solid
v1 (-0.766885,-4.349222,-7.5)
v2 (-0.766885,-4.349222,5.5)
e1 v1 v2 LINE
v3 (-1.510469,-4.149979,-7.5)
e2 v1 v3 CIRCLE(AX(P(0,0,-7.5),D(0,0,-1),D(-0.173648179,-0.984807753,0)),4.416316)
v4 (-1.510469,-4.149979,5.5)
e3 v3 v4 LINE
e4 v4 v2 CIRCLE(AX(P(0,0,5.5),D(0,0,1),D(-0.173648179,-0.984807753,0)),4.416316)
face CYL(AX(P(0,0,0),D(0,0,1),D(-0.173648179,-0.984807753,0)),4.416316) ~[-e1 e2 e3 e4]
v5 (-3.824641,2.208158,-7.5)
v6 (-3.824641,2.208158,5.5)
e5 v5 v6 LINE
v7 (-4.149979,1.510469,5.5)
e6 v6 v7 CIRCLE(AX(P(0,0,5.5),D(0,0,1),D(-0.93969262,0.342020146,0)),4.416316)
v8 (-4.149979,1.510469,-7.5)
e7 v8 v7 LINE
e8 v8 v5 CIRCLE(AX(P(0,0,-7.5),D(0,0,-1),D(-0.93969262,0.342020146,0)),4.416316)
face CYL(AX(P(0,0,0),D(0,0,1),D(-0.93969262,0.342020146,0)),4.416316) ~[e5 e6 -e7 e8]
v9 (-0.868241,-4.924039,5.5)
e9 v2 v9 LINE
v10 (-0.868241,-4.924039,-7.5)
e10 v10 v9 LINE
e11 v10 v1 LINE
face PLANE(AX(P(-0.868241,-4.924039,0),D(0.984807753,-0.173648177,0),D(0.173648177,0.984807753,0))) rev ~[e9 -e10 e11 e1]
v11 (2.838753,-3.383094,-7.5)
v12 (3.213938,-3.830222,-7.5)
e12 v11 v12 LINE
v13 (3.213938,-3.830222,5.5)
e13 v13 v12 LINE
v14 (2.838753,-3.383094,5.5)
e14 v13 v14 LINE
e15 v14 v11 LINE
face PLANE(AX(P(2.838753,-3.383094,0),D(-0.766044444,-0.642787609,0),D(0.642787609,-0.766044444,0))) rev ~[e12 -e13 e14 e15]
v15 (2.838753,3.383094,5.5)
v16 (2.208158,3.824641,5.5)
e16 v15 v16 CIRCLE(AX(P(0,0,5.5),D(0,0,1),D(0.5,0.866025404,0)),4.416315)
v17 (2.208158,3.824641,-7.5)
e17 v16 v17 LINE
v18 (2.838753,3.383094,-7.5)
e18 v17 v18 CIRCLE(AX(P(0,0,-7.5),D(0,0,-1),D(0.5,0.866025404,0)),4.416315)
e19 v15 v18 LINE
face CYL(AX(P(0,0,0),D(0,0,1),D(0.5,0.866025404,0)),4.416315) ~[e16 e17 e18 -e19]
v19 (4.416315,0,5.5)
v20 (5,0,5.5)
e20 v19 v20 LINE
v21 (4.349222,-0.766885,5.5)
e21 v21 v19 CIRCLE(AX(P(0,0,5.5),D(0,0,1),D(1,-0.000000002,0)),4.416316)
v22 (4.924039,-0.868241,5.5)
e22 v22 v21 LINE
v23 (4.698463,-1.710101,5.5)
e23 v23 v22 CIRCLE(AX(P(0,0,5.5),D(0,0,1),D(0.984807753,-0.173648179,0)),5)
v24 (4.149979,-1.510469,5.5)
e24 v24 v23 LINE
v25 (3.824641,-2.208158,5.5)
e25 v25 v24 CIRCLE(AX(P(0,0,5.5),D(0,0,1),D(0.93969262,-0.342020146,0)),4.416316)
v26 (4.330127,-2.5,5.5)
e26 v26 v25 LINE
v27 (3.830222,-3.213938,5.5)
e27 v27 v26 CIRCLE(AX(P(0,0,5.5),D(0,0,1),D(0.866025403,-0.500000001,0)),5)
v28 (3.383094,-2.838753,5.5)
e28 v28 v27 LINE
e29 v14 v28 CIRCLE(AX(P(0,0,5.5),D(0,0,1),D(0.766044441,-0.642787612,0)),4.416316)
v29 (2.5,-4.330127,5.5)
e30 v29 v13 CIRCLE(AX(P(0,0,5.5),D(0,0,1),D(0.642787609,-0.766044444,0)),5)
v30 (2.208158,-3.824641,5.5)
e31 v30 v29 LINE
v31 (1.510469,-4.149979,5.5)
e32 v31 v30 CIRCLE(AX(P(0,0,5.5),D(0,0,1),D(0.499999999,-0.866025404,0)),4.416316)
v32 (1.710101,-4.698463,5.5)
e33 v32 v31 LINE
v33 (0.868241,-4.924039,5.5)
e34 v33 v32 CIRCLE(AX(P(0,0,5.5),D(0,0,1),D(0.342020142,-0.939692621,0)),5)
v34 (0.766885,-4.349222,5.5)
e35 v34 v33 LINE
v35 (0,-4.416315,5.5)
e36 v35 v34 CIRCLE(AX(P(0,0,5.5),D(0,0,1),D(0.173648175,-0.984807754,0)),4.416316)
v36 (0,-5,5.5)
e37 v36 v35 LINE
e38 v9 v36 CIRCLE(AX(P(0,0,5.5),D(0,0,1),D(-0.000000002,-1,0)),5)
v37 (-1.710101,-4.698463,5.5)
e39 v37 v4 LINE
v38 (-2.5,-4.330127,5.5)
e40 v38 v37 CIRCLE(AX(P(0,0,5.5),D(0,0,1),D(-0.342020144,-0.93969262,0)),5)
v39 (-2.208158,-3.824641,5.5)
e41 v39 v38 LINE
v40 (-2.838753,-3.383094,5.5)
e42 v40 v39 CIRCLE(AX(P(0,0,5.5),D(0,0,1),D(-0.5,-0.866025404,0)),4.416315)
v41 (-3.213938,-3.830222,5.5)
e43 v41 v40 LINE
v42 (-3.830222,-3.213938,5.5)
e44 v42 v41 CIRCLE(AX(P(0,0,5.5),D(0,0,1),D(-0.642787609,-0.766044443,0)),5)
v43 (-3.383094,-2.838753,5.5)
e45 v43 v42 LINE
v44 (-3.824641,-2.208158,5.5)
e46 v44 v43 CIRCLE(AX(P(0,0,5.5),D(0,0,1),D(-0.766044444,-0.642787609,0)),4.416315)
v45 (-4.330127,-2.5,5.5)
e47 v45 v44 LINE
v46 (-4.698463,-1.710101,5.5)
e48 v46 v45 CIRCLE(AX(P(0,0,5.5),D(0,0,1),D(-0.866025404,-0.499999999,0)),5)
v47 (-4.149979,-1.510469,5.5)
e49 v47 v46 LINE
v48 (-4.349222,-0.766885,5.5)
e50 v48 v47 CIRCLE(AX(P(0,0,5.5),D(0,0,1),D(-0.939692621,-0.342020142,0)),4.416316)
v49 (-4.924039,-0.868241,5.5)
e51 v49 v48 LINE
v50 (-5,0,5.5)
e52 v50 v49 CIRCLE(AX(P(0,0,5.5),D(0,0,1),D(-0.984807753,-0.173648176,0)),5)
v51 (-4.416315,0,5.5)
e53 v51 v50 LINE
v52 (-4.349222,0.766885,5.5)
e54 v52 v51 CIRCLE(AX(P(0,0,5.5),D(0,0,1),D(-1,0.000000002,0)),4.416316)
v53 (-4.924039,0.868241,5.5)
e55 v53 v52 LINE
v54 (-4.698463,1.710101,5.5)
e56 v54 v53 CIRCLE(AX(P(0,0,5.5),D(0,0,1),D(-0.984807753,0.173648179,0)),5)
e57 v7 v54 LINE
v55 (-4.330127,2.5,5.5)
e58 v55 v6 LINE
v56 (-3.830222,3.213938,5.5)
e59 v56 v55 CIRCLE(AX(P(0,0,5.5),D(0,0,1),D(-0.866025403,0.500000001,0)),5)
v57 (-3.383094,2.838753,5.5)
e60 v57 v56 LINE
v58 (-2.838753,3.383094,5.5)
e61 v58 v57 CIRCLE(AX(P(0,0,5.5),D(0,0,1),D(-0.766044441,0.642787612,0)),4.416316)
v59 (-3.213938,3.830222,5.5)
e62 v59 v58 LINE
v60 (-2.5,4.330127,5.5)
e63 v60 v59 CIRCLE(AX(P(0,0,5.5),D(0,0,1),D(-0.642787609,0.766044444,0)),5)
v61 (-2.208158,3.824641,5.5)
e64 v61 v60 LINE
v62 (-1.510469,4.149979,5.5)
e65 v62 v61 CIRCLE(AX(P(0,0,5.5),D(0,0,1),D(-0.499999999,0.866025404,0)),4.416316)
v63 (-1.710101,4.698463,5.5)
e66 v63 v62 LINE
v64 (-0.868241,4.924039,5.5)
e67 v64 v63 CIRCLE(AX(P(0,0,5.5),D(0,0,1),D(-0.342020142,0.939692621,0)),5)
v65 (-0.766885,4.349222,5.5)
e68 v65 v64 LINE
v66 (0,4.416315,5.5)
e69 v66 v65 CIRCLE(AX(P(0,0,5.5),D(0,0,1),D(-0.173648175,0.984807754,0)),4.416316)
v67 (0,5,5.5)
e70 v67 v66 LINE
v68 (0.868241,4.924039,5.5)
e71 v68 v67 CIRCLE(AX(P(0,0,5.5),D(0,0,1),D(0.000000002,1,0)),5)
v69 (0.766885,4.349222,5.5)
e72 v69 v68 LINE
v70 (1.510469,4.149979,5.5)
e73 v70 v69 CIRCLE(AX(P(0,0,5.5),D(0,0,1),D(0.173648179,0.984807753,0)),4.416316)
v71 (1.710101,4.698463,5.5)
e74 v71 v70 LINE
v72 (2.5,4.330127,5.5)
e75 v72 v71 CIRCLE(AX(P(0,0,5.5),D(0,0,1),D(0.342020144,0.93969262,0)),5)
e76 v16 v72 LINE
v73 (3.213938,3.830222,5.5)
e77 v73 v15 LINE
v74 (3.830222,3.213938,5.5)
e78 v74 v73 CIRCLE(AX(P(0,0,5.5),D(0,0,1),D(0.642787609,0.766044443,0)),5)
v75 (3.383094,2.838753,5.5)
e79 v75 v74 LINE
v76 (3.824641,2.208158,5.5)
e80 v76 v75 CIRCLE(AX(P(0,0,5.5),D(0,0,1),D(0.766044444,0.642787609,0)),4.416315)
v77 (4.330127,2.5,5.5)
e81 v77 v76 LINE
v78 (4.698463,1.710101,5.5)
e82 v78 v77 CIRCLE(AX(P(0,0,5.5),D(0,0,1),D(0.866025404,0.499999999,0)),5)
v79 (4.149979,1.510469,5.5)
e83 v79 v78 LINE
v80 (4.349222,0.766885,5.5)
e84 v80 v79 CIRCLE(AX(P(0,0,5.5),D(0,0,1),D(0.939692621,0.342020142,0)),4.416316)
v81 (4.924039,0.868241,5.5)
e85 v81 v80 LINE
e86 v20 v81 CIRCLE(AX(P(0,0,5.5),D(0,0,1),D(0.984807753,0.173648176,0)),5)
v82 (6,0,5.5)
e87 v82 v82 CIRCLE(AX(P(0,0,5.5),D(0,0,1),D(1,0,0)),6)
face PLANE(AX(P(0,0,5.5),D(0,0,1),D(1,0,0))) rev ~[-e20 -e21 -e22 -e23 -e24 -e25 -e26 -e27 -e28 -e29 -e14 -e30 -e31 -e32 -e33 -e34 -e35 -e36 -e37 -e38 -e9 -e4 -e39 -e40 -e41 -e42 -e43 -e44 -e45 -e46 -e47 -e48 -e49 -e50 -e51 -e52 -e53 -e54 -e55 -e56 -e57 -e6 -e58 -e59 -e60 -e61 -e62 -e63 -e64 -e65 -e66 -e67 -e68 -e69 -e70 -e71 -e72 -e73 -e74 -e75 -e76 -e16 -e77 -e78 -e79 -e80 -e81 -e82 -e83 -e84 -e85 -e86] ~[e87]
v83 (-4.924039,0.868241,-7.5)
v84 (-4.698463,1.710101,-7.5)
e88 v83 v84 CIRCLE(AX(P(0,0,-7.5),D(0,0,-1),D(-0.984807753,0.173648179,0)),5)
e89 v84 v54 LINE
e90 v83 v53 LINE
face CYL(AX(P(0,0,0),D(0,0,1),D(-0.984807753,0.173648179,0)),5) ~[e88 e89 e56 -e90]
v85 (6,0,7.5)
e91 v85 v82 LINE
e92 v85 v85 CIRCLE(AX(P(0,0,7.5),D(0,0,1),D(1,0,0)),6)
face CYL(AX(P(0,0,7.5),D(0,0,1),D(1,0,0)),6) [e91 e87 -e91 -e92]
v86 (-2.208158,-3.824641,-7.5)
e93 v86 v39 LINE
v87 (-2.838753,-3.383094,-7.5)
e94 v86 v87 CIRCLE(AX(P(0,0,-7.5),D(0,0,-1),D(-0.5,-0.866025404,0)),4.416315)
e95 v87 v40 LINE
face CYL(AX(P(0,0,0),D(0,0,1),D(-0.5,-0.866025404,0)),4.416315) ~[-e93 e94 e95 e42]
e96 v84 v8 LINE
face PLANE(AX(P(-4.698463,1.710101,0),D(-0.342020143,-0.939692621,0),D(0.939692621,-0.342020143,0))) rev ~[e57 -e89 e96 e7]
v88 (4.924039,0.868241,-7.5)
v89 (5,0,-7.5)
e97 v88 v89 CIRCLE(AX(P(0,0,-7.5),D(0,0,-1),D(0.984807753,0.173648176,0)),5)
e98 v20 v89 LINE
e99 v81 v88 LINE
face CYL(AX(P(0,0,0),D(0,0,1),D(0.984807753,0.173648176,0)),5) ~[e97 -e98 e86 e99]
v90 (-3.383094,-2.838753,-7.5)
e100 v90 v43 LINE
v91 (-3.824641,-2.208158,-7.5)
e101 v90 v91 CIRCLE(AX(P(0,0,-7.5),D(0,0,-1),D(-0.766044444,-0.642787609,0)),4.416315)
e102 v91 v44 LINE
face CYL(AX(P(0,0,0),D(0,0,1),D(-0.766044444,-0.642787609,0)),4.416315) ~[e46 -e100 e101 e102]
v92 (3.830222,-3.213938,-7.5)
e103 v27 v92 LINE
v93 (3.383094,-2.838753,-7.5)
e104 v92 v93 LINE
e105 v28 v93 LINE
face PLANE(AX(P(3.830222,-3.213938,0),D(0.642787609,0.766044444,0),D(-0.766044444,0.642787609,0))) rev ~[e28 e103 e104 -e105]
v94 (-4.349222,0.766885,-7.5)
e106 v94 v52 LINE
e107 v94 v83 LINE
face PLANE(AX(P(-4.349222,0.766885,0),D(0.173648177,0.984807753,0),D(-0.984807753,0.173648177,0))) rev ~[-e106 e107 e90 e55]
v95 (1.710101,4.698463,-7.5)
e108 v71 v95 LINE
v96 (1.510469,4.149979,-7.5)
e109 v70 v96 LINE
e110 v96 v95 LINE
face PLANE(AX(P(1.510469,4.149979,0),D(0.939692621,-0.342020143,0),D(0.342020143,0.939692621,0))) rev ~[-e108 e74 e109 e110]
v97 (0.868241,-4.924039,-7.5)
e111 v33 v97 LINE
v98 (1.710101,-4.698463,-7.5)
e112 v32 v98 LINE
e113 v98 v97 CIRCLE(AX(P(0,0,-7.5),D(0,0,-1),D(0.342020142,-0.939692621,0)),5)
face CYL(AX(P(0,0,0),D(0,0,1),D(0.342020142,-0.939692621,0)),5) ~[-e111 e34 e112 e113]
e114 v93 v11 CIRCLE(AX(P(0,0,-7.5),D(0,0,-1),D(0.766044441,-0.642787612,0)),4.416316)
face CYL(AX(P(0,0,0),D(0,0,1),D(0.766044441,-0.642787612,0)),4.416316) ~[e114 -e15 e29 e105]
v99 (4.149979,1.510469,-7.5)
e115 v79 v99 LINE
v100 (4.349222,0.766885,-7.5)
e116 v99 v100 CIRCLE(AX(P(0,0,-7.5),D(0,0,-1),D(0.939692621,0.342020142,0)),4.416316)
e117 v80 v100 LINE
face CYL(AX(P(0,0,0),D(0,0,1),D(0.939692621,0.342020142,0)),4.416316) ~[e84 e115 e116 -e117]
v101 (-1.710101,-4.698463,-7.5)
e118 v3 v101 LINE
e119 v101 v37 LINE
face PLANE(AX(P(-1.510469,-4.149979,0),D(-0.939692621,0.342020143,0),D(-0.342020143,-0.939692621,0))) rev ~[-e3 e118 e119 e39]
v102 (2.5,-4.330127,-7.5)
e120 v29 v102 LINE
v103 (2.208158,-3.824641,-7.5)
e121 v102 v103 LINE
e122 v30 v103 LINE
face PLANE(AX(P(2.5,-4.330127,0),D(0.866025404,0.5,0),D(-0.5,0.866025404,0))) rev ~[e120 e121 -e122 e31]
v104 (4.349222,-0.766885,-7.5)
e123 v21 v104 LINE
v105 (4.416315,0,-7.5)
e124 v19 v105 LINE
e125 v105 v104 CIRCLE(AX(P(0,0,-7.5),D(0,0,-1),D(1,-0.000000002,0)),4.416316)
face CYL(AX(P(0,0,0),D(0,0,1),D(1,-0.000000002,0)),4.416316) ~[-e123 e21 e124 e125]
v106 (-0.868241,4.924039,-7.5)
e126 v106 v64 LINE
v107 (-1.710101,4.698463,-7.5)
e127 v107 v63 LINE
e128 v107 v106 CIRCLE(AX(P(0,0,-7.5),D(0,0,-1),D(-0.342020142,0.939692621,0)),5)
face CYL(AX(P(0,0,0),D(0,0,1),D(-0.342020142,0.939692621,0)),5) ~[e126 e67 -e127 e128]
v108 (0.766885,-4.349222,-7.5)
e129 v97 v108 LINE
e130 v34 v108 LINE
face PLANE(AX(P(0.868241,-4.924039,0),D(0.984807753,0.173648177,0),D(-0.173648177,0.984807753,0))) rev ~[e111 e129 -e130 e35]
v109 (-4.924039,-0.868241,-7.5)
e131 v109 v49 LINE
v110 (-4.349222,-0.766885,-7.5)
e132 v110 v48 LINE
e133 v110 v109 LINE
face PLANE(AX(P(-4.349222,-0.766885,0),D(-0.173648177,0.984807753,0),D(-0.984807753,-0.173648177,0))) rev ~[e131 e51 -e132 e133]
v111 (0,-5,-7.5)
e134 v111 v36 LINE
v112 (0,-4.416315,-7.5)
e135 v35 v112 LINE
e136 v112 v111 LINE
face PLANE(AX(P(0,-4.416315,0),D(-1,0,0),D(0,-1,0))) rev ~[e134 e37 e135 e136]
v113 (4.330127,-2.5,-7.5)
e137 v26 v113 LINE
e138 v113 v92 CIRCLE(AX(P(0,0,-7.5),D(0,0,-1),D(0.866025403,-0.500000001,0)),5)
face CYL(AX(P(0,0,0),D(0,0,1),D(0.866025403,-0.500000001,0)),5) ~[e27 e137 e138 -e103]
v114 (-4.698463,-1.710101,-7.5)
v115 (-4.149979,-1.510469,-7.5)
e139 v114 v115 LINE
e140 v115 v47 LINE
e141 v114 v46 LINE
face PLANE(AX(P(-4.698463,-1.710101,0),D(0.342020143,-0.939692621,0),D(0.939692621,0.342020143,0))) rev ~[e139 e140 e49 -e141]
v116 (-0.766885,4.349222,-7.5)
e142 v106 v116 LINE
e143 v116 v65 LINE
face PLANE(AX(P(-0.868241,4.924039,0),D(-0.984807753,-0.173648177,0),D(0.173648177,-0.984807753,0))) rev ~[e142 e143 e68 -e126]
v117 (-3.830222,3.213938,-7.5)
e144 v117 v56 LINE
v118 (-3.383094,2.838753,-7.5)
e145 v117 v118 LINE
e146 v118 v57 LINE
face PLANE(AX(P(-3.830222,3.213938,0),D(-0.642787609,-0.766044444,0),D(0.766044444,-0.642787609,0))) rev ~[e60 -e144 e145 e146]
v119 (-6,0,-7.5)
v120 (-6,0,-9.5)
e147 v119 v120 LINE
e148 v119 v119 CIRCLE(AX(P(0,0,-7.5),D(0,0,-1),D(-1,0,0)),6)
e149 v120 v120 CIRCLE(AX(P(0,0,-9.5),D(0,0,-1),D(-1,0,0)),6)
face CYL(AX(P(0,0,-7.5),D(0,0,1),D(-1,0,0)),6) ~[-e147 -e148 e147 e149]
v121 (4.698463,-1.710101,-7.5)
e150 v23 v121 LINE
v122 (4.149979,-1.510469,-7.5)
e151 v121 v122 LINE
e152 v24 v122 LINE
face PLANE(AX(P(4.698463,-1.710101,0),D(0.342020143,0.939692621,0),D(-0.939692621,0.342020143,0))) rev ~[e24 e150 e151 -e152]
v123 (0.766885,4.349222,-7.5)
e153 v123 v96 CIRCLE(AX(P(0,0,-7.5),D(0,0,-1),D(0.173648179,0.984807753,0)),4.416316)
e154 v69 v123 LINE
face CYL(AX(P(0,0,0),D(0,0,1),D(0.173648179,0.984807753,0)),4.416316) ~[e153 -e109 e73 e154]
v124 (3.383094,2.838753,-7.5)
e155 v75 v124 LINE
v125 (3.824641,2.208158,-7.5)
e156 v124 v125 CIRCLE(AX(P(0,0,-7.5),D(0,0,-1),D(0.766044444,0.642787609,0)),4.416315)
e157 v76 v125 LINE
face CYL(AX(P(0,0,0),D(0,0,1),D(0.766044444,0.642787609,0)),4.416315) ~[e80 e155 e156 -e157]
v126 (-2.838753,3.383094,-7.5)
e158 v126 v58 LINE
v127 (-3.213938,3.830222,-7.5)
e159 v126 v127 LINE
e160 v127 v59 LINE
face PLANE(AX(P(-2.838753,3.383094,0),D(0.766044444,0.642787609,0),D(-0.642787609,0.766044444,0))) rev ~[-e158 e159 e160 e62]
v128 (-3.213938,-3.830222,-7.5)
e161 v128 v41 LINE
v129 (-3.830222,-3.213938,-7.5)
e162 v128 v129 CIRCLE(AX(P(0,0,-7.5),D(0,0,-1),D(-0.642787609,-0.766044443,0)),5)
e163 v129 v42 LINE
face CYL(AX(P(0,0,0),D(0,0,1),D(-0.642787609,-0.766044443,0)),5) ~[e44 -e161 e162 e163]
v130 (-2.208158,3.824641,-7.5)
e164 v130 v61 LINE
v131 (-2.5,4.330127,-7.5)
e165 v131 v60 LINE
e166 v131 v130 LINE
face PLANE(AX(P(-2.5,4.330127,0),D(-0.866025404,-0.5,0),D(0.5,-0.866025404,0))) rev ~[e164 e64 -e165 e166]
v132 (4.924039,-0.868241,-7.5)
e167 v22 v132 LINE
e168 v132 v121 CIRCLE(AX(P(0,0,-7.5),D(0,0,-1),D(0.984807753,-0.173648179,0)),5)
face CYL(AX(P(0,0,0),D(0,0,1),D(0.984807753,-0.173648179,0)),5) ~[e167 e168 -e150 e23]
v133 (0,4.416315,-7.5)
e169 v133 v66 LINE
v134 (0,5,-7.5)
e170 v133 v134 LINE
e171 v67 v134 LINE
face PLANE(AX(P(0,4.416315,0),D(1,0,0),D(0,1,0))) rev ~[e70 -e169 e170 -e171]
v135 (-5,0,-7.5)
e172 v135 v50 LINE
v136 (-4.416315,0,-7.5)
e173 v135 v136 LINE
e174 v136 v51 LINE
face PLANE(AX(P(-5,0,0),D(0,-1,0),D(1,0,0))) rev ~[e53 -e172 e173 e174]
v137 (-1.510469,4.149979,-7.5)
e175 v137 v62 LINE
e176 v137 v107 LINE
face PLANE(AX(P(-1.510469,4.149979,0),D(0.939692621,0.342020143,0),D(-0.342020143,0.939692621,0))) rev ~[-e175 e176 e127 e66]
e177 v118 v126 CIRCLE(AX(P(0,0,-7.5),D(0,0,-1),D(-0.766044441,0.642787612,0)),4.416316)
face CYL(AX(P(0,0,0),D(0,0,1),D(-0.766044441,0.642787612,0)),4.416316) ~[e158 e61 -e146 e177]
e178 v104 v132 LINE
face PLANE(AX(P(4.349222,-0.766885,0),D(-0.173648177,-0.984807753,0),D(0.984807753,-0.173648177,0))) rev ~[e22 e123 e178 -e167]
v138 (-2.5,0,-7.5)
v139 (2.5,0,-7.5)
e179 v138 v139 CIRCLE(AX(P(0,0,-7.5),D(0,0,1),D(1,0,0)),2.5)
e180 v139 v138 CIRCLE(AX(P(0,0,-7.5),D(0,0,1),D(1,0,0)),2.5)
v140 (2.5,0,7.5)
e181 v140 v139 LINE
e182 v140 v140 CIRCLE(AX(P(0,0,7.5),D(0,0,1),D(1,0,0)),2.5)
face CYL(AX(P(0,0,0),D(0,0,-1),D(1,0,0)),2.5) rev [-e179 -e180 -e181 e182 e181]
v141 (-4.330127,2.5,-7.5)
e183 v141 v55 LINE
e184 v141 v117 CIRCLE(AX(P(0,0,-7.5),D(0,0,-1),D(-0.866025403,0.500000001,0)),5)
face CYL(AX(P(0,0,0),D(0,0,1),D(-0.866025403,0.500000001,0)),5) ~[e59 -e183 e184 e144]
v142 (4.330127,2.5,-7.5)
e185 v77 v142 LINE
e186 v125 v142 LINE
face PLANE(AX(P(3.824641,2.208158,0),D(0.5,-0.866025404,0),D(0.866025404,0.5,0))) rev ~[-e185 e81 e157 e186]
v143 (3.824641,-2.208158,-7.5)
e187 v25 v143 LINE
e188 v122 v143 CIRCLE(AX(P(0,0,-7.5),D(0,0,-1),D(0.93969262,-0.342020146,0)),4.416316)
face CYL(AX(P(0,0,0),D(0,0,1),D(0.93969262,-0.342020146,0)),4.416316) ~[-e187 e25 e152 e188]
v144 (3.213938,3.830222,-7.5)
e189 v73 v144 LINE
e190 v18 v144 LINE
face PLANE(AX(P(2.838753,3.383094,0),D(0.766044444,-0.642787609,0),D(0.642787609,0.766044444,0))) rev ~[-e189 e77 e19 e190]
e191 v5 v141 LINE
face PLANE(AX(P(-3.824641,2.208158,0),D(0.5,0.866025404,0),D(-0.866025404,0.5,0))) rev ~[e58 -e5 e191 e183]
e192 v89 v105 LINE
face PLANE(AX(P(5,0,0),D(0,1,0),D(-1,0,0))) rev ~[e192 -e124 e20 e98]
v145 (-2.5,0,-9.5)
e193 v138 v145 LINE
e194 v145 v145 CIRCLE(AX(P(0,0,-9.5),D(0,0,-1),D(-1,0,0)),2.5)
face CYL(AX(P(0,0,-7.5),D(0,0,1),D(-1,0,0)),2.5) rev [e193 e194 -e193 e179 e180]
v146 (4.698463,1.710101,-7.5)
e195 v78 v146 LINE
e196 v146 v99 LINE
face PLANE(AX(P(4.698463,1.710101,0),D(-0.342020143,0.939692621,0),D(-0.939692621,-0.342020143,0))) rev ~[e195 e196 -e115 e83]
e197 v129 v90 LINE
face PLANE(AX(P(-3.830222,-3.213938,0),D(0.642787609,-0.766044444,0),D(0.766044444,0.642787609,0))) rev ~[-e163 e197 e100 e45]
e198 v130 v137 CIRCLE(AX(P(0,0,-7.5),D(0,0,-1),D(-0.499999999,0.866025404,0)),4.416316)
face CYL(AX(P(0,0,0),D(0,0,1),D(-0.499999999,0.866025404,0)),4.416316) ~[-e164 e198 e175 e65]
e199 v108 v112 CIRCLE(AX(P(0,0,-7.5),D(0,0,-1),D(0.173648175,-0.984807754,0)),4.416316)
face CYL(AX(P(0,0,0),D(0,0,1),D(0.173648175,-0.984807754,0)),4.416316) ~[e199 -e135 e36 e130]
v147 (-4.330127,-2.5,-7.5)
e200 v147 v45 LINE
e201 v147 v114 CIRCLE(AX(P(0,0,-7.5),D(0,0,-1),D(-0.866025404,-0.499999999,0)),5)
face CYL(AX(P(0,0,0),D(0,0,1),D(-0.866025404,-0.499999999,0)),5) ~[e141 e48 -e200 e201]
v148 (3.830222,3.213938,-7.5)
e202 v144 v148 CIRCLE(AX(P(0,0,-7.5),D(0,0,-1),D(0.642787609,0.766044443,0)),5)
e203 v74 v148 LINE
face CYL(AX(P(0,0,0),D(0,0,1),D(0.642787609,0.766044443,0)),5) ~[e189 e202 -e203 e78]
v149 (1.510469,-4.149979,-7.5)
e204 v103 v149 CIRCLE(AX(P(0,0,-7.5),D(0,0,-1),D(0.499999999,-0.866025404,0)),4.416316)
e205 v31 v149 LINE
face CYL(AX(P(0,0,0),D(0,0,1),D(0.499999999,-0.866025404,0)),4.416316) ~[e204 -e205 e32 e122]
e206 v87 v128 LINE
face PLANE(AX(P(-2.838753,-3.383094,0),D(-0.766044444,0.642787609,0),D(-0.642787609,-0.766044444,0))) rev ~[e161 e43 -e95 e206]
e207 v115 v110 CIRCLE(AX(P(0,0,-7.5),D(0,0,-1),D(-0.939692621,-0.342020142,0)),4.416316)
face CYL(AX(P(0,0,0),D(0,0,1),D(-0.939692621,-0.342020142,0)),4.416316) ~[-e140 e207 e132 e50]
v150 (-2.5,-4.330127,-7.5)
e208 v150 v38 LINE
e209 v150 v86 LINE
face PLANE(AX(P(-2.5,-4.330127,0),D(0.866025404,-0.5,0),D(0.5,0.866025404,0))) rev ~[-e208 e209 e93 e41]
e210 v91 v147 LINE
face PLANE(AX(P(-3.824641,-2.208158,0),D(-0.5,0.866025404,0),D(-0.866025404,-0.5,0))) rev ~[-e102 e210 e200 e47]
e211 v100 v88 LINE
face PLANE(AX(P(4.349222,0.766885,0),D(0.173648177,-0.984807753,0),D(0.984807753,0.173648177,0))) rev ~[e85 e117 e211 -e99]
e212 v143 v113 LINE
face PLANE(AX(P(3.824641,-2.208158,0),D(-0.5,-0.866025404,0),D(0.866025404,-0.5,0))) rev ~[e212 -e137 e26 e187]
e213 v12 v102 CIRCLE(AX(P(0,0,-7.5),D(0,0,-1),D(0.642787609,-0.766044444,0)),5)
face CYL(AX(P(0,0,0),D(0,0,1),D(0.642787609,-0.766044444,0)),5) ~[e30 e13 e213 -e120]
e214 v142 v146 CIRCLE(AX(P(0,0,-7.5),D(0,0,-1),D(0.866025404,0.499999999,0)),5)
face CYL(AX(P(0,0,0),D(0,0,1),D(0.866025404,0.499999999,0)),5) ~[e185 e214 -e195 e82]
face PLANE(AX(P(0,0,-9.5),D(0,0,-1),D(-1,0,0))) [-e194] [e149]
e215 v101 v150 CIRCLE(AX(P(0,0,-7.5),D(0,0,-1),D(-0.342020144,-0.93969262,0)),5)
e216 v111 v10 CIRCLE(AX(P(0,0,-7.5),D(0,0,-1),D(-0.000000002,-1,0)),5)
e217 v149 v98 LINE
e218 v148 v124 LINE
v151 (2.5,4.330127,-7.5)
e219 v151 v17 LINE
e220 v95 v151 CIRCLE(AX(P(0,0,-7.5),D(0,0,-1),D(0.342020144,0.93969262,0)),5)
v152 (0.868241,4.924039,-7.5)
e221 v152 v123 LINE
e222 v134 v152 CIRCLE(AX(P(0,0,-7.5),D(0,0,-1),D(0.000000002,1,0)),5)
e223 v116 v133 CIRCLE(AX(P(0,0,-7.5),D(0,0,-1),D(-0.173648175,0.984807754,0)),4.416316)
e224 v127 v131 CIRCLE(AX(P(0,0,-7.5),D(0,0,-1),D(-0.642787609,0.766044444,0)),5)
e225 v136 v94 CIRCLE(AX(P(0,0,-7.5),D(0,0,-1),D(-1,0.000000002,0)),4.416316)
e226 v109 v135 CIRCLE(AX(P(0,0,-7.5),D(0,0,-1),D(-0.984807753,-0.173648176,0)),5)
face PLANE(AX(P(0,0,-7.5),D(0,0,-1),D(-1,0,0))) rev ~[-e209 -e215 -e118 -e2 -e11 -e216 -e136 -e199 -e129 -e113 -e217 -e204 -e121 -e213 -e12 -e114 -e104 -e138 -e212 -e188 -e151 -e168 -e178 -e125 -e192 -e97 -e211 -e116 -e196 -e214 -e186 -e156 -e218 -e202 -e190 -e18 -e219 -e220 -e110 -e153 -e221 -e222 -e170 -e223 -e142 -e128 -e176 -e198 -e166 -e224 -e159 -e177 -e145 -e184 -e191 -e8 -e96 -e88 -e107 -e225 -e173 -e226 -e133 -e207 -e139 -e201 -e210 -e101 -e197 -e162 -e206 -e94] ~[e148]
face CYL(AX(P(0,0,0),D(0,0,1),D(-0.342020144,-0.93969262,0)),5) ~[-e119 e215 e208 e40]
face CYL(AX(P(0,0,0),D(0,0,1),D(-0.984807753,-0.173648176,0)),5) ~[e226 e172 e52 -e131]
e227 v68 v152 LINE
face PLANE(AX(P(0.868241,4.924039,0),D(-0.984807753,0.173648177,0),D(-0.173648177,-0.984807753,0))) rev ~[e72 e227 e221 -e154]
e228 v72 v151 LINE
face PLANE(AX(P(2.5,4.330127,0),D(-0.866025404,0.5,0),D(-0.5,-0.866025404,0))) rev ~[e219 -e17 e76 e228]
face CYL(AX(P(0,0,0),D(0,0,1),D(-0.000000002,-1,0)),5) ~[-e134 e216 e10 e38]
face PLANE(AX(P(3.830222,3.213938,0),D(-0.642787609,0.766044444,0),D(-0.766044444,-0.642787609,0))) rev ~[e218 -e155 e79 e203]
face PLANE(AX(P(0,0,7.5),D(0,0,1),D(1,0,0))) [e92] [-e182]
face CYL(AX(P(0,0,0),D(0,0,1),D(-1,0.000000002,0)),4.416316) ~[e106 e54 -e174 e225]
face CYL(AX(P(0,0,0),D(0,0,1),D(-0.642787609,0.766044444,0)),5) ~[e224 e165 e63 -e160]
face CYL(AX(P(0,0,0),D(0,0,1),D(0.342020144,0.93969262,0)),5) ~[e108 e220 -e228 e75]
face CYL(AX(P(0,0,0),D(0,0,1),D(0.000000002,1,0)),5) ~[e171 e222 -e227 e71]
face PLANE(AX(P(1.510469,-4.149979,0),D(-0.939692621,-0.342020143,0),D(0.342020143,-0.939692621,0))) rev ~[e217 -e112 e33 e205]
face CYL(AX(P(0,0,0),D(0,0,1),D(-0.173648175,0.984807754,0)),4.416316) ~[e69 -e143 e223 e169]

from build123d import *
from build123d.topology import SkipClean

# Parameters (mm, degrees)
SALIENTE_EXTRUIR1_DEPTH      = 7.5
SALIENTE_EXTRUIR1_DEPTH_BACK = 7.5
CROQUIS1_R                   = 2.5
SALIENTE_EXTRUIR2_START      = -2
CROQUIS2_R                   = 6
CROQUIS2_R_2                 = 2.5
SALIENTE_EXTRUIR2_DEPTH      = 2
SALIENTE_EXTRUIR3_START      = 2
CROQUIS3_R                   = 6
CROQUIS3_R_2                 = 2.5
SALIENTE_EXTRUIR3_DEPTH      = 2


with BuildPart() as part:
    # Croquis1 → Saliente-Extruir1 (new, two sides: drawn at the far end of the back side and taken through both)
    with BuildSketch(Plane.XY.offset(-SALIENTE_EXTRUIR1_DEPTH_BACK)):
        with BuildLine():
            Line((0, 4.41631546), (0, 5))
            ThreePointArc((0, 5), (0.435778714, 4.98097349), (0.868240888, 4.924038765))
            Line((0.868240888, 4.924038765), (0.766885132, 4.349221705))
            ThreePointArc((0.766885132, 4.349221705), (1.14302655, 4.26583316), (1.510468847, 4.149979049))
            Line((1.510468847, 4.149979049), (1.710100717, 4.698463104))
            ThreePointArc((1.710100717, 4.698463104), (2.113091309, 4.531538935), (2.5, 4.330127019))
            Line((2.5, 4.330127019), (2.20815773, 3.824641379))
            ThreePointArc((2.20815773, 3.824641379), (2.533094483, 3.617633837), (2.838752858, 3.383093917))
            Line((2.838752858, 3.383093917), (3.213938048, 3.830222216))
            ThreePointArc((3.213938048, 3.830222216), (3.535533906, 3.535533906), (3.830222216, 3.213938048))
            Line((3.830222216, 3.213938048), (3.383093917, 2.838752858))
            ThreePointArc((3.383093917, 2.838752858), (3.617633837, 2.533094483), (3.824641379, 2.20815773))
            Line((3.824641379, 2.20815773), (4.330127019, 2.5))
            ThreePointArc((4.330127019, 2.5), (4.531538935, 2.113091309), (4.698463104, 1.710100717))
            Line((4.698463104, 1.710100717), (4.149979049, 1.510468847))
            ThreePointArc((4.149979049, 1.510468847), (4.26583316, 1.14302655), (4.349221705, 0.766885132))
            Line((4.349221705, 0.766885132), (4.924038765, 0.868240888))
            ThreePointArc((4.924038765, 0.868240888), (4.98097349, 0.435778714), (5, 0))
            Line((5, 0), (4.41631546, 0))
            ThreePointArc((4.41631546, 0), (4.399510046, -0.384907254), (4.349221705, -0.766885132))
            Line((4.349221705, -0.766885132), (4.924038765, -0.868240888))
            ThreePointArc((4.924038765, -0.868240888), (4.829629131, -1.294095226), (4.698463104, -1.710100717))
            Line((4.698463104, -1.710100717), (4.149979049, -1.510468847))
            ThreePointArc((4.149979049, -1.510468847), (4.002541091, -1.866415563), (3.824641379, -2.20815773))
            Line((3.824641379, -2.20815773), (4.330127019, -2.5))
            ThreePointArc((4.330127019, -2.5), (4.095760221, -2.867882182), (3.830222216, -3.213938048))
            Line((3.830222216, -3.213938048), (3.383093917, -2.838752858))
            ThreePointArc((3.383093917, -2.838752858), (3.122806609, -3.122806609), (2.838752858, -3.383093917))
            Line((2.838752858, -3.383093917), (3.213938048, -3.830222216))
            ThreePointArc((3.213938048, -3.830222216), (2.867882182, -4.095760221), (2.5, -4.330127019))
            Line((2.5, -4.330127019), (2.20815773, -3.824641379))
            ThreePointArc((2.20815773, -3.824641379), (1.866415563, -4.002541091), (1.510468847, -4.149979049))
            Line((1.510468847, -4.149979049), (1.710100717, -4.698463104))
            ThreePointArc((1.710100717, -4.698463104), (1.294095226, -4.829629131), (0.868240888, -4.924038765))
            Line((0.868240888, -4.924038765), (0.766885132, -4.349221705))
            ThreePointArc((0.766885132, -4.349221705), (0.384907254, -4.399510046), (0, -4.41631546))
            Line((0, -4.41631546), (0, -5))
            ThreePointArc((0, -5), (-0.435778714, -4.98097349), (-0.868240888, -4.924038765))
            Line((-0.868240888, -4.924038765), (-0.766885132, -4.349221705))
            ThreePointArc((-0.766885132, -4.349221705), (-1.14302655, -4.26583316), (-1.510468847, -4.149979049))
            Line((-1.510468847, -4.149979049), (-1.710100717, -4.698463104))
            ThreePointArc((-1.710100717, -4.698463104), (-2.113091309, -4.531538935), (-2.5, -4.330127019))
            Line((-2.5, -4.330127019), (-2.20815773, -3.824641379))
            ThreePointArc((-2.20815773, -3.824641379), (-2.533094483, -3.617633837), (-2.838752858, -3.383093917))
            Line((-2.838752858, -3.383093917), (-3.213938048, -3.830222216))
            ThreePointArc((-3.213938048, -3.830222216), (-3.535533906, -3.535533906), (-3.830222216, -3.213938048))
            Line((-3.830222216, -3.213938048), (-3.383093917, -2.838752858))
            ThreePointArc((-3.383093917, -2.838752858), (-3.617633837, -2.533094483), (-3.824641379, -2.20815773))
            Line((-3.824641379, -2.20815773), (-4.330127019, -2.5))
            ThreePointArc((-4.330127019, -2.5), (-4.531538935, -2.113091309), (-4.698463104, -1.710100717))
            Line((-4.698463104, -1.710100717), (-4.149979049, -1.510468847))
            ThreePointArc((-4.149979049, -1.510468847), (-4.26583316, -1.14302655), (-4.349221705, -0.766885132))
            Line((-4.349221705, -0.766885132), (-4.924038765, -0.868240888))
            ThreePointArc((-4.924038765, -0.868240888), (-4.98097349, -0.435778714), (-5, 0))
            Line((-5, 0), (-4.41631546, 0))
            ThreePointArc((-4.41631546, 0), (-4.399510046, 0.384907254), (-4.349221705, 0.766885132))
            Line((-4.349221705, 0.766885132), (-4.924038765, 0.868240888))
            ThreePointArc((-4.924038765, 0.868240888), (-4.829629131, 1.294095226), (-4.698463104, 1.710100717))
            Line((-4.698463104, 1.710100717), (-4.149979049, 1.510468847))
            ThreePointArc((-4.149979049, 1.510468847), (-4.002541091, 1.866415563), (-3.824641379, 2.20815773))
            Line((-3.824641379, 2.20815773), (-4.330127019, 2.5))
            ThreePointArc((-4.330127019, 2.5), (-4.095760221, 2.867882182), (-3.830222216, 3.213938048))
            Line((-3.830222216, 3.213938048), (-3.383093917, 2.838752858))
            ThreePointArc((-3.383093917, 2.838752858), (-3.122806609, 3.122806609), (-2.838752858, 3.383093917))
            Line((-2.838752858, 3.383093917), (-3.213938048, 3.830222216))
            ThreePointArc((-3.213938048, 3.830222216), (-2.867882182, 4.095760221), (-2.5, 4.330127019))
            Line((-2.5, 4.330127019), (-2.20815773, 3.824641379))
            ThreePointArc((-2.20815773, 3.824641379), (-1.866415563, 4.002541091), (-1.510468847, 4.149979049))
            Line((-1.510468847, 4.149979049), (-1.710100717, 4.698463104))
            ThreePointArc((-1.710100717, 4.698463104), (-1.294095226, 4.829629131), (-0.868240888, 4.924038765))
            Line((-0.868240888, 4.924038765), (-0.766885132, 4.349221705))
            ThreePointArc((-0.766885132, 4.349221705), (-0.384907254, 4.399510046), (0, 4.41631546))
        make_face()
        Circle(CROQUIS1_R, mode=Mode.SUBTRACT)
    extrude(amount=SALIENTE_EXTRUIR1_DEPTH + SALIENTE_EXTRUIR1_DEPTH_BACK)

    # Croquis2 → Saliente-Extruir2 (add)
    with BuildSketch(Plane.XY.offset(7.5).offset(SALIENTE_EXTRUIR2_START)):
        Circle(CROQUIS2_R)
        Circle(CROQUIS2_R_2, mode=Mode.SUBTRACT)
    extrude(amount=SALIENTE_EXTRUIR2_DEPTH)

    # Croquis3 → Saliente-Extruir3 (add)
    with SkipClean():  # the faces are left unmerged after this step: merging them gives an invalid solid
        with BuildSketch(Plane(origin=(0, 0, -7.5), x_dir=(-1, 0, 0), z_dir=(0, 0, -1)).offset(SALIENTE_EXTRUIR3_START)):
            Circle(CROQUIS3_R)
            Circle(CROQUIS3_R_2, mode=Mode.SUBTRACT)
        extrude(amount=-SALIENTE_EXTRUIR3_DEPTH)


solid = part.part
